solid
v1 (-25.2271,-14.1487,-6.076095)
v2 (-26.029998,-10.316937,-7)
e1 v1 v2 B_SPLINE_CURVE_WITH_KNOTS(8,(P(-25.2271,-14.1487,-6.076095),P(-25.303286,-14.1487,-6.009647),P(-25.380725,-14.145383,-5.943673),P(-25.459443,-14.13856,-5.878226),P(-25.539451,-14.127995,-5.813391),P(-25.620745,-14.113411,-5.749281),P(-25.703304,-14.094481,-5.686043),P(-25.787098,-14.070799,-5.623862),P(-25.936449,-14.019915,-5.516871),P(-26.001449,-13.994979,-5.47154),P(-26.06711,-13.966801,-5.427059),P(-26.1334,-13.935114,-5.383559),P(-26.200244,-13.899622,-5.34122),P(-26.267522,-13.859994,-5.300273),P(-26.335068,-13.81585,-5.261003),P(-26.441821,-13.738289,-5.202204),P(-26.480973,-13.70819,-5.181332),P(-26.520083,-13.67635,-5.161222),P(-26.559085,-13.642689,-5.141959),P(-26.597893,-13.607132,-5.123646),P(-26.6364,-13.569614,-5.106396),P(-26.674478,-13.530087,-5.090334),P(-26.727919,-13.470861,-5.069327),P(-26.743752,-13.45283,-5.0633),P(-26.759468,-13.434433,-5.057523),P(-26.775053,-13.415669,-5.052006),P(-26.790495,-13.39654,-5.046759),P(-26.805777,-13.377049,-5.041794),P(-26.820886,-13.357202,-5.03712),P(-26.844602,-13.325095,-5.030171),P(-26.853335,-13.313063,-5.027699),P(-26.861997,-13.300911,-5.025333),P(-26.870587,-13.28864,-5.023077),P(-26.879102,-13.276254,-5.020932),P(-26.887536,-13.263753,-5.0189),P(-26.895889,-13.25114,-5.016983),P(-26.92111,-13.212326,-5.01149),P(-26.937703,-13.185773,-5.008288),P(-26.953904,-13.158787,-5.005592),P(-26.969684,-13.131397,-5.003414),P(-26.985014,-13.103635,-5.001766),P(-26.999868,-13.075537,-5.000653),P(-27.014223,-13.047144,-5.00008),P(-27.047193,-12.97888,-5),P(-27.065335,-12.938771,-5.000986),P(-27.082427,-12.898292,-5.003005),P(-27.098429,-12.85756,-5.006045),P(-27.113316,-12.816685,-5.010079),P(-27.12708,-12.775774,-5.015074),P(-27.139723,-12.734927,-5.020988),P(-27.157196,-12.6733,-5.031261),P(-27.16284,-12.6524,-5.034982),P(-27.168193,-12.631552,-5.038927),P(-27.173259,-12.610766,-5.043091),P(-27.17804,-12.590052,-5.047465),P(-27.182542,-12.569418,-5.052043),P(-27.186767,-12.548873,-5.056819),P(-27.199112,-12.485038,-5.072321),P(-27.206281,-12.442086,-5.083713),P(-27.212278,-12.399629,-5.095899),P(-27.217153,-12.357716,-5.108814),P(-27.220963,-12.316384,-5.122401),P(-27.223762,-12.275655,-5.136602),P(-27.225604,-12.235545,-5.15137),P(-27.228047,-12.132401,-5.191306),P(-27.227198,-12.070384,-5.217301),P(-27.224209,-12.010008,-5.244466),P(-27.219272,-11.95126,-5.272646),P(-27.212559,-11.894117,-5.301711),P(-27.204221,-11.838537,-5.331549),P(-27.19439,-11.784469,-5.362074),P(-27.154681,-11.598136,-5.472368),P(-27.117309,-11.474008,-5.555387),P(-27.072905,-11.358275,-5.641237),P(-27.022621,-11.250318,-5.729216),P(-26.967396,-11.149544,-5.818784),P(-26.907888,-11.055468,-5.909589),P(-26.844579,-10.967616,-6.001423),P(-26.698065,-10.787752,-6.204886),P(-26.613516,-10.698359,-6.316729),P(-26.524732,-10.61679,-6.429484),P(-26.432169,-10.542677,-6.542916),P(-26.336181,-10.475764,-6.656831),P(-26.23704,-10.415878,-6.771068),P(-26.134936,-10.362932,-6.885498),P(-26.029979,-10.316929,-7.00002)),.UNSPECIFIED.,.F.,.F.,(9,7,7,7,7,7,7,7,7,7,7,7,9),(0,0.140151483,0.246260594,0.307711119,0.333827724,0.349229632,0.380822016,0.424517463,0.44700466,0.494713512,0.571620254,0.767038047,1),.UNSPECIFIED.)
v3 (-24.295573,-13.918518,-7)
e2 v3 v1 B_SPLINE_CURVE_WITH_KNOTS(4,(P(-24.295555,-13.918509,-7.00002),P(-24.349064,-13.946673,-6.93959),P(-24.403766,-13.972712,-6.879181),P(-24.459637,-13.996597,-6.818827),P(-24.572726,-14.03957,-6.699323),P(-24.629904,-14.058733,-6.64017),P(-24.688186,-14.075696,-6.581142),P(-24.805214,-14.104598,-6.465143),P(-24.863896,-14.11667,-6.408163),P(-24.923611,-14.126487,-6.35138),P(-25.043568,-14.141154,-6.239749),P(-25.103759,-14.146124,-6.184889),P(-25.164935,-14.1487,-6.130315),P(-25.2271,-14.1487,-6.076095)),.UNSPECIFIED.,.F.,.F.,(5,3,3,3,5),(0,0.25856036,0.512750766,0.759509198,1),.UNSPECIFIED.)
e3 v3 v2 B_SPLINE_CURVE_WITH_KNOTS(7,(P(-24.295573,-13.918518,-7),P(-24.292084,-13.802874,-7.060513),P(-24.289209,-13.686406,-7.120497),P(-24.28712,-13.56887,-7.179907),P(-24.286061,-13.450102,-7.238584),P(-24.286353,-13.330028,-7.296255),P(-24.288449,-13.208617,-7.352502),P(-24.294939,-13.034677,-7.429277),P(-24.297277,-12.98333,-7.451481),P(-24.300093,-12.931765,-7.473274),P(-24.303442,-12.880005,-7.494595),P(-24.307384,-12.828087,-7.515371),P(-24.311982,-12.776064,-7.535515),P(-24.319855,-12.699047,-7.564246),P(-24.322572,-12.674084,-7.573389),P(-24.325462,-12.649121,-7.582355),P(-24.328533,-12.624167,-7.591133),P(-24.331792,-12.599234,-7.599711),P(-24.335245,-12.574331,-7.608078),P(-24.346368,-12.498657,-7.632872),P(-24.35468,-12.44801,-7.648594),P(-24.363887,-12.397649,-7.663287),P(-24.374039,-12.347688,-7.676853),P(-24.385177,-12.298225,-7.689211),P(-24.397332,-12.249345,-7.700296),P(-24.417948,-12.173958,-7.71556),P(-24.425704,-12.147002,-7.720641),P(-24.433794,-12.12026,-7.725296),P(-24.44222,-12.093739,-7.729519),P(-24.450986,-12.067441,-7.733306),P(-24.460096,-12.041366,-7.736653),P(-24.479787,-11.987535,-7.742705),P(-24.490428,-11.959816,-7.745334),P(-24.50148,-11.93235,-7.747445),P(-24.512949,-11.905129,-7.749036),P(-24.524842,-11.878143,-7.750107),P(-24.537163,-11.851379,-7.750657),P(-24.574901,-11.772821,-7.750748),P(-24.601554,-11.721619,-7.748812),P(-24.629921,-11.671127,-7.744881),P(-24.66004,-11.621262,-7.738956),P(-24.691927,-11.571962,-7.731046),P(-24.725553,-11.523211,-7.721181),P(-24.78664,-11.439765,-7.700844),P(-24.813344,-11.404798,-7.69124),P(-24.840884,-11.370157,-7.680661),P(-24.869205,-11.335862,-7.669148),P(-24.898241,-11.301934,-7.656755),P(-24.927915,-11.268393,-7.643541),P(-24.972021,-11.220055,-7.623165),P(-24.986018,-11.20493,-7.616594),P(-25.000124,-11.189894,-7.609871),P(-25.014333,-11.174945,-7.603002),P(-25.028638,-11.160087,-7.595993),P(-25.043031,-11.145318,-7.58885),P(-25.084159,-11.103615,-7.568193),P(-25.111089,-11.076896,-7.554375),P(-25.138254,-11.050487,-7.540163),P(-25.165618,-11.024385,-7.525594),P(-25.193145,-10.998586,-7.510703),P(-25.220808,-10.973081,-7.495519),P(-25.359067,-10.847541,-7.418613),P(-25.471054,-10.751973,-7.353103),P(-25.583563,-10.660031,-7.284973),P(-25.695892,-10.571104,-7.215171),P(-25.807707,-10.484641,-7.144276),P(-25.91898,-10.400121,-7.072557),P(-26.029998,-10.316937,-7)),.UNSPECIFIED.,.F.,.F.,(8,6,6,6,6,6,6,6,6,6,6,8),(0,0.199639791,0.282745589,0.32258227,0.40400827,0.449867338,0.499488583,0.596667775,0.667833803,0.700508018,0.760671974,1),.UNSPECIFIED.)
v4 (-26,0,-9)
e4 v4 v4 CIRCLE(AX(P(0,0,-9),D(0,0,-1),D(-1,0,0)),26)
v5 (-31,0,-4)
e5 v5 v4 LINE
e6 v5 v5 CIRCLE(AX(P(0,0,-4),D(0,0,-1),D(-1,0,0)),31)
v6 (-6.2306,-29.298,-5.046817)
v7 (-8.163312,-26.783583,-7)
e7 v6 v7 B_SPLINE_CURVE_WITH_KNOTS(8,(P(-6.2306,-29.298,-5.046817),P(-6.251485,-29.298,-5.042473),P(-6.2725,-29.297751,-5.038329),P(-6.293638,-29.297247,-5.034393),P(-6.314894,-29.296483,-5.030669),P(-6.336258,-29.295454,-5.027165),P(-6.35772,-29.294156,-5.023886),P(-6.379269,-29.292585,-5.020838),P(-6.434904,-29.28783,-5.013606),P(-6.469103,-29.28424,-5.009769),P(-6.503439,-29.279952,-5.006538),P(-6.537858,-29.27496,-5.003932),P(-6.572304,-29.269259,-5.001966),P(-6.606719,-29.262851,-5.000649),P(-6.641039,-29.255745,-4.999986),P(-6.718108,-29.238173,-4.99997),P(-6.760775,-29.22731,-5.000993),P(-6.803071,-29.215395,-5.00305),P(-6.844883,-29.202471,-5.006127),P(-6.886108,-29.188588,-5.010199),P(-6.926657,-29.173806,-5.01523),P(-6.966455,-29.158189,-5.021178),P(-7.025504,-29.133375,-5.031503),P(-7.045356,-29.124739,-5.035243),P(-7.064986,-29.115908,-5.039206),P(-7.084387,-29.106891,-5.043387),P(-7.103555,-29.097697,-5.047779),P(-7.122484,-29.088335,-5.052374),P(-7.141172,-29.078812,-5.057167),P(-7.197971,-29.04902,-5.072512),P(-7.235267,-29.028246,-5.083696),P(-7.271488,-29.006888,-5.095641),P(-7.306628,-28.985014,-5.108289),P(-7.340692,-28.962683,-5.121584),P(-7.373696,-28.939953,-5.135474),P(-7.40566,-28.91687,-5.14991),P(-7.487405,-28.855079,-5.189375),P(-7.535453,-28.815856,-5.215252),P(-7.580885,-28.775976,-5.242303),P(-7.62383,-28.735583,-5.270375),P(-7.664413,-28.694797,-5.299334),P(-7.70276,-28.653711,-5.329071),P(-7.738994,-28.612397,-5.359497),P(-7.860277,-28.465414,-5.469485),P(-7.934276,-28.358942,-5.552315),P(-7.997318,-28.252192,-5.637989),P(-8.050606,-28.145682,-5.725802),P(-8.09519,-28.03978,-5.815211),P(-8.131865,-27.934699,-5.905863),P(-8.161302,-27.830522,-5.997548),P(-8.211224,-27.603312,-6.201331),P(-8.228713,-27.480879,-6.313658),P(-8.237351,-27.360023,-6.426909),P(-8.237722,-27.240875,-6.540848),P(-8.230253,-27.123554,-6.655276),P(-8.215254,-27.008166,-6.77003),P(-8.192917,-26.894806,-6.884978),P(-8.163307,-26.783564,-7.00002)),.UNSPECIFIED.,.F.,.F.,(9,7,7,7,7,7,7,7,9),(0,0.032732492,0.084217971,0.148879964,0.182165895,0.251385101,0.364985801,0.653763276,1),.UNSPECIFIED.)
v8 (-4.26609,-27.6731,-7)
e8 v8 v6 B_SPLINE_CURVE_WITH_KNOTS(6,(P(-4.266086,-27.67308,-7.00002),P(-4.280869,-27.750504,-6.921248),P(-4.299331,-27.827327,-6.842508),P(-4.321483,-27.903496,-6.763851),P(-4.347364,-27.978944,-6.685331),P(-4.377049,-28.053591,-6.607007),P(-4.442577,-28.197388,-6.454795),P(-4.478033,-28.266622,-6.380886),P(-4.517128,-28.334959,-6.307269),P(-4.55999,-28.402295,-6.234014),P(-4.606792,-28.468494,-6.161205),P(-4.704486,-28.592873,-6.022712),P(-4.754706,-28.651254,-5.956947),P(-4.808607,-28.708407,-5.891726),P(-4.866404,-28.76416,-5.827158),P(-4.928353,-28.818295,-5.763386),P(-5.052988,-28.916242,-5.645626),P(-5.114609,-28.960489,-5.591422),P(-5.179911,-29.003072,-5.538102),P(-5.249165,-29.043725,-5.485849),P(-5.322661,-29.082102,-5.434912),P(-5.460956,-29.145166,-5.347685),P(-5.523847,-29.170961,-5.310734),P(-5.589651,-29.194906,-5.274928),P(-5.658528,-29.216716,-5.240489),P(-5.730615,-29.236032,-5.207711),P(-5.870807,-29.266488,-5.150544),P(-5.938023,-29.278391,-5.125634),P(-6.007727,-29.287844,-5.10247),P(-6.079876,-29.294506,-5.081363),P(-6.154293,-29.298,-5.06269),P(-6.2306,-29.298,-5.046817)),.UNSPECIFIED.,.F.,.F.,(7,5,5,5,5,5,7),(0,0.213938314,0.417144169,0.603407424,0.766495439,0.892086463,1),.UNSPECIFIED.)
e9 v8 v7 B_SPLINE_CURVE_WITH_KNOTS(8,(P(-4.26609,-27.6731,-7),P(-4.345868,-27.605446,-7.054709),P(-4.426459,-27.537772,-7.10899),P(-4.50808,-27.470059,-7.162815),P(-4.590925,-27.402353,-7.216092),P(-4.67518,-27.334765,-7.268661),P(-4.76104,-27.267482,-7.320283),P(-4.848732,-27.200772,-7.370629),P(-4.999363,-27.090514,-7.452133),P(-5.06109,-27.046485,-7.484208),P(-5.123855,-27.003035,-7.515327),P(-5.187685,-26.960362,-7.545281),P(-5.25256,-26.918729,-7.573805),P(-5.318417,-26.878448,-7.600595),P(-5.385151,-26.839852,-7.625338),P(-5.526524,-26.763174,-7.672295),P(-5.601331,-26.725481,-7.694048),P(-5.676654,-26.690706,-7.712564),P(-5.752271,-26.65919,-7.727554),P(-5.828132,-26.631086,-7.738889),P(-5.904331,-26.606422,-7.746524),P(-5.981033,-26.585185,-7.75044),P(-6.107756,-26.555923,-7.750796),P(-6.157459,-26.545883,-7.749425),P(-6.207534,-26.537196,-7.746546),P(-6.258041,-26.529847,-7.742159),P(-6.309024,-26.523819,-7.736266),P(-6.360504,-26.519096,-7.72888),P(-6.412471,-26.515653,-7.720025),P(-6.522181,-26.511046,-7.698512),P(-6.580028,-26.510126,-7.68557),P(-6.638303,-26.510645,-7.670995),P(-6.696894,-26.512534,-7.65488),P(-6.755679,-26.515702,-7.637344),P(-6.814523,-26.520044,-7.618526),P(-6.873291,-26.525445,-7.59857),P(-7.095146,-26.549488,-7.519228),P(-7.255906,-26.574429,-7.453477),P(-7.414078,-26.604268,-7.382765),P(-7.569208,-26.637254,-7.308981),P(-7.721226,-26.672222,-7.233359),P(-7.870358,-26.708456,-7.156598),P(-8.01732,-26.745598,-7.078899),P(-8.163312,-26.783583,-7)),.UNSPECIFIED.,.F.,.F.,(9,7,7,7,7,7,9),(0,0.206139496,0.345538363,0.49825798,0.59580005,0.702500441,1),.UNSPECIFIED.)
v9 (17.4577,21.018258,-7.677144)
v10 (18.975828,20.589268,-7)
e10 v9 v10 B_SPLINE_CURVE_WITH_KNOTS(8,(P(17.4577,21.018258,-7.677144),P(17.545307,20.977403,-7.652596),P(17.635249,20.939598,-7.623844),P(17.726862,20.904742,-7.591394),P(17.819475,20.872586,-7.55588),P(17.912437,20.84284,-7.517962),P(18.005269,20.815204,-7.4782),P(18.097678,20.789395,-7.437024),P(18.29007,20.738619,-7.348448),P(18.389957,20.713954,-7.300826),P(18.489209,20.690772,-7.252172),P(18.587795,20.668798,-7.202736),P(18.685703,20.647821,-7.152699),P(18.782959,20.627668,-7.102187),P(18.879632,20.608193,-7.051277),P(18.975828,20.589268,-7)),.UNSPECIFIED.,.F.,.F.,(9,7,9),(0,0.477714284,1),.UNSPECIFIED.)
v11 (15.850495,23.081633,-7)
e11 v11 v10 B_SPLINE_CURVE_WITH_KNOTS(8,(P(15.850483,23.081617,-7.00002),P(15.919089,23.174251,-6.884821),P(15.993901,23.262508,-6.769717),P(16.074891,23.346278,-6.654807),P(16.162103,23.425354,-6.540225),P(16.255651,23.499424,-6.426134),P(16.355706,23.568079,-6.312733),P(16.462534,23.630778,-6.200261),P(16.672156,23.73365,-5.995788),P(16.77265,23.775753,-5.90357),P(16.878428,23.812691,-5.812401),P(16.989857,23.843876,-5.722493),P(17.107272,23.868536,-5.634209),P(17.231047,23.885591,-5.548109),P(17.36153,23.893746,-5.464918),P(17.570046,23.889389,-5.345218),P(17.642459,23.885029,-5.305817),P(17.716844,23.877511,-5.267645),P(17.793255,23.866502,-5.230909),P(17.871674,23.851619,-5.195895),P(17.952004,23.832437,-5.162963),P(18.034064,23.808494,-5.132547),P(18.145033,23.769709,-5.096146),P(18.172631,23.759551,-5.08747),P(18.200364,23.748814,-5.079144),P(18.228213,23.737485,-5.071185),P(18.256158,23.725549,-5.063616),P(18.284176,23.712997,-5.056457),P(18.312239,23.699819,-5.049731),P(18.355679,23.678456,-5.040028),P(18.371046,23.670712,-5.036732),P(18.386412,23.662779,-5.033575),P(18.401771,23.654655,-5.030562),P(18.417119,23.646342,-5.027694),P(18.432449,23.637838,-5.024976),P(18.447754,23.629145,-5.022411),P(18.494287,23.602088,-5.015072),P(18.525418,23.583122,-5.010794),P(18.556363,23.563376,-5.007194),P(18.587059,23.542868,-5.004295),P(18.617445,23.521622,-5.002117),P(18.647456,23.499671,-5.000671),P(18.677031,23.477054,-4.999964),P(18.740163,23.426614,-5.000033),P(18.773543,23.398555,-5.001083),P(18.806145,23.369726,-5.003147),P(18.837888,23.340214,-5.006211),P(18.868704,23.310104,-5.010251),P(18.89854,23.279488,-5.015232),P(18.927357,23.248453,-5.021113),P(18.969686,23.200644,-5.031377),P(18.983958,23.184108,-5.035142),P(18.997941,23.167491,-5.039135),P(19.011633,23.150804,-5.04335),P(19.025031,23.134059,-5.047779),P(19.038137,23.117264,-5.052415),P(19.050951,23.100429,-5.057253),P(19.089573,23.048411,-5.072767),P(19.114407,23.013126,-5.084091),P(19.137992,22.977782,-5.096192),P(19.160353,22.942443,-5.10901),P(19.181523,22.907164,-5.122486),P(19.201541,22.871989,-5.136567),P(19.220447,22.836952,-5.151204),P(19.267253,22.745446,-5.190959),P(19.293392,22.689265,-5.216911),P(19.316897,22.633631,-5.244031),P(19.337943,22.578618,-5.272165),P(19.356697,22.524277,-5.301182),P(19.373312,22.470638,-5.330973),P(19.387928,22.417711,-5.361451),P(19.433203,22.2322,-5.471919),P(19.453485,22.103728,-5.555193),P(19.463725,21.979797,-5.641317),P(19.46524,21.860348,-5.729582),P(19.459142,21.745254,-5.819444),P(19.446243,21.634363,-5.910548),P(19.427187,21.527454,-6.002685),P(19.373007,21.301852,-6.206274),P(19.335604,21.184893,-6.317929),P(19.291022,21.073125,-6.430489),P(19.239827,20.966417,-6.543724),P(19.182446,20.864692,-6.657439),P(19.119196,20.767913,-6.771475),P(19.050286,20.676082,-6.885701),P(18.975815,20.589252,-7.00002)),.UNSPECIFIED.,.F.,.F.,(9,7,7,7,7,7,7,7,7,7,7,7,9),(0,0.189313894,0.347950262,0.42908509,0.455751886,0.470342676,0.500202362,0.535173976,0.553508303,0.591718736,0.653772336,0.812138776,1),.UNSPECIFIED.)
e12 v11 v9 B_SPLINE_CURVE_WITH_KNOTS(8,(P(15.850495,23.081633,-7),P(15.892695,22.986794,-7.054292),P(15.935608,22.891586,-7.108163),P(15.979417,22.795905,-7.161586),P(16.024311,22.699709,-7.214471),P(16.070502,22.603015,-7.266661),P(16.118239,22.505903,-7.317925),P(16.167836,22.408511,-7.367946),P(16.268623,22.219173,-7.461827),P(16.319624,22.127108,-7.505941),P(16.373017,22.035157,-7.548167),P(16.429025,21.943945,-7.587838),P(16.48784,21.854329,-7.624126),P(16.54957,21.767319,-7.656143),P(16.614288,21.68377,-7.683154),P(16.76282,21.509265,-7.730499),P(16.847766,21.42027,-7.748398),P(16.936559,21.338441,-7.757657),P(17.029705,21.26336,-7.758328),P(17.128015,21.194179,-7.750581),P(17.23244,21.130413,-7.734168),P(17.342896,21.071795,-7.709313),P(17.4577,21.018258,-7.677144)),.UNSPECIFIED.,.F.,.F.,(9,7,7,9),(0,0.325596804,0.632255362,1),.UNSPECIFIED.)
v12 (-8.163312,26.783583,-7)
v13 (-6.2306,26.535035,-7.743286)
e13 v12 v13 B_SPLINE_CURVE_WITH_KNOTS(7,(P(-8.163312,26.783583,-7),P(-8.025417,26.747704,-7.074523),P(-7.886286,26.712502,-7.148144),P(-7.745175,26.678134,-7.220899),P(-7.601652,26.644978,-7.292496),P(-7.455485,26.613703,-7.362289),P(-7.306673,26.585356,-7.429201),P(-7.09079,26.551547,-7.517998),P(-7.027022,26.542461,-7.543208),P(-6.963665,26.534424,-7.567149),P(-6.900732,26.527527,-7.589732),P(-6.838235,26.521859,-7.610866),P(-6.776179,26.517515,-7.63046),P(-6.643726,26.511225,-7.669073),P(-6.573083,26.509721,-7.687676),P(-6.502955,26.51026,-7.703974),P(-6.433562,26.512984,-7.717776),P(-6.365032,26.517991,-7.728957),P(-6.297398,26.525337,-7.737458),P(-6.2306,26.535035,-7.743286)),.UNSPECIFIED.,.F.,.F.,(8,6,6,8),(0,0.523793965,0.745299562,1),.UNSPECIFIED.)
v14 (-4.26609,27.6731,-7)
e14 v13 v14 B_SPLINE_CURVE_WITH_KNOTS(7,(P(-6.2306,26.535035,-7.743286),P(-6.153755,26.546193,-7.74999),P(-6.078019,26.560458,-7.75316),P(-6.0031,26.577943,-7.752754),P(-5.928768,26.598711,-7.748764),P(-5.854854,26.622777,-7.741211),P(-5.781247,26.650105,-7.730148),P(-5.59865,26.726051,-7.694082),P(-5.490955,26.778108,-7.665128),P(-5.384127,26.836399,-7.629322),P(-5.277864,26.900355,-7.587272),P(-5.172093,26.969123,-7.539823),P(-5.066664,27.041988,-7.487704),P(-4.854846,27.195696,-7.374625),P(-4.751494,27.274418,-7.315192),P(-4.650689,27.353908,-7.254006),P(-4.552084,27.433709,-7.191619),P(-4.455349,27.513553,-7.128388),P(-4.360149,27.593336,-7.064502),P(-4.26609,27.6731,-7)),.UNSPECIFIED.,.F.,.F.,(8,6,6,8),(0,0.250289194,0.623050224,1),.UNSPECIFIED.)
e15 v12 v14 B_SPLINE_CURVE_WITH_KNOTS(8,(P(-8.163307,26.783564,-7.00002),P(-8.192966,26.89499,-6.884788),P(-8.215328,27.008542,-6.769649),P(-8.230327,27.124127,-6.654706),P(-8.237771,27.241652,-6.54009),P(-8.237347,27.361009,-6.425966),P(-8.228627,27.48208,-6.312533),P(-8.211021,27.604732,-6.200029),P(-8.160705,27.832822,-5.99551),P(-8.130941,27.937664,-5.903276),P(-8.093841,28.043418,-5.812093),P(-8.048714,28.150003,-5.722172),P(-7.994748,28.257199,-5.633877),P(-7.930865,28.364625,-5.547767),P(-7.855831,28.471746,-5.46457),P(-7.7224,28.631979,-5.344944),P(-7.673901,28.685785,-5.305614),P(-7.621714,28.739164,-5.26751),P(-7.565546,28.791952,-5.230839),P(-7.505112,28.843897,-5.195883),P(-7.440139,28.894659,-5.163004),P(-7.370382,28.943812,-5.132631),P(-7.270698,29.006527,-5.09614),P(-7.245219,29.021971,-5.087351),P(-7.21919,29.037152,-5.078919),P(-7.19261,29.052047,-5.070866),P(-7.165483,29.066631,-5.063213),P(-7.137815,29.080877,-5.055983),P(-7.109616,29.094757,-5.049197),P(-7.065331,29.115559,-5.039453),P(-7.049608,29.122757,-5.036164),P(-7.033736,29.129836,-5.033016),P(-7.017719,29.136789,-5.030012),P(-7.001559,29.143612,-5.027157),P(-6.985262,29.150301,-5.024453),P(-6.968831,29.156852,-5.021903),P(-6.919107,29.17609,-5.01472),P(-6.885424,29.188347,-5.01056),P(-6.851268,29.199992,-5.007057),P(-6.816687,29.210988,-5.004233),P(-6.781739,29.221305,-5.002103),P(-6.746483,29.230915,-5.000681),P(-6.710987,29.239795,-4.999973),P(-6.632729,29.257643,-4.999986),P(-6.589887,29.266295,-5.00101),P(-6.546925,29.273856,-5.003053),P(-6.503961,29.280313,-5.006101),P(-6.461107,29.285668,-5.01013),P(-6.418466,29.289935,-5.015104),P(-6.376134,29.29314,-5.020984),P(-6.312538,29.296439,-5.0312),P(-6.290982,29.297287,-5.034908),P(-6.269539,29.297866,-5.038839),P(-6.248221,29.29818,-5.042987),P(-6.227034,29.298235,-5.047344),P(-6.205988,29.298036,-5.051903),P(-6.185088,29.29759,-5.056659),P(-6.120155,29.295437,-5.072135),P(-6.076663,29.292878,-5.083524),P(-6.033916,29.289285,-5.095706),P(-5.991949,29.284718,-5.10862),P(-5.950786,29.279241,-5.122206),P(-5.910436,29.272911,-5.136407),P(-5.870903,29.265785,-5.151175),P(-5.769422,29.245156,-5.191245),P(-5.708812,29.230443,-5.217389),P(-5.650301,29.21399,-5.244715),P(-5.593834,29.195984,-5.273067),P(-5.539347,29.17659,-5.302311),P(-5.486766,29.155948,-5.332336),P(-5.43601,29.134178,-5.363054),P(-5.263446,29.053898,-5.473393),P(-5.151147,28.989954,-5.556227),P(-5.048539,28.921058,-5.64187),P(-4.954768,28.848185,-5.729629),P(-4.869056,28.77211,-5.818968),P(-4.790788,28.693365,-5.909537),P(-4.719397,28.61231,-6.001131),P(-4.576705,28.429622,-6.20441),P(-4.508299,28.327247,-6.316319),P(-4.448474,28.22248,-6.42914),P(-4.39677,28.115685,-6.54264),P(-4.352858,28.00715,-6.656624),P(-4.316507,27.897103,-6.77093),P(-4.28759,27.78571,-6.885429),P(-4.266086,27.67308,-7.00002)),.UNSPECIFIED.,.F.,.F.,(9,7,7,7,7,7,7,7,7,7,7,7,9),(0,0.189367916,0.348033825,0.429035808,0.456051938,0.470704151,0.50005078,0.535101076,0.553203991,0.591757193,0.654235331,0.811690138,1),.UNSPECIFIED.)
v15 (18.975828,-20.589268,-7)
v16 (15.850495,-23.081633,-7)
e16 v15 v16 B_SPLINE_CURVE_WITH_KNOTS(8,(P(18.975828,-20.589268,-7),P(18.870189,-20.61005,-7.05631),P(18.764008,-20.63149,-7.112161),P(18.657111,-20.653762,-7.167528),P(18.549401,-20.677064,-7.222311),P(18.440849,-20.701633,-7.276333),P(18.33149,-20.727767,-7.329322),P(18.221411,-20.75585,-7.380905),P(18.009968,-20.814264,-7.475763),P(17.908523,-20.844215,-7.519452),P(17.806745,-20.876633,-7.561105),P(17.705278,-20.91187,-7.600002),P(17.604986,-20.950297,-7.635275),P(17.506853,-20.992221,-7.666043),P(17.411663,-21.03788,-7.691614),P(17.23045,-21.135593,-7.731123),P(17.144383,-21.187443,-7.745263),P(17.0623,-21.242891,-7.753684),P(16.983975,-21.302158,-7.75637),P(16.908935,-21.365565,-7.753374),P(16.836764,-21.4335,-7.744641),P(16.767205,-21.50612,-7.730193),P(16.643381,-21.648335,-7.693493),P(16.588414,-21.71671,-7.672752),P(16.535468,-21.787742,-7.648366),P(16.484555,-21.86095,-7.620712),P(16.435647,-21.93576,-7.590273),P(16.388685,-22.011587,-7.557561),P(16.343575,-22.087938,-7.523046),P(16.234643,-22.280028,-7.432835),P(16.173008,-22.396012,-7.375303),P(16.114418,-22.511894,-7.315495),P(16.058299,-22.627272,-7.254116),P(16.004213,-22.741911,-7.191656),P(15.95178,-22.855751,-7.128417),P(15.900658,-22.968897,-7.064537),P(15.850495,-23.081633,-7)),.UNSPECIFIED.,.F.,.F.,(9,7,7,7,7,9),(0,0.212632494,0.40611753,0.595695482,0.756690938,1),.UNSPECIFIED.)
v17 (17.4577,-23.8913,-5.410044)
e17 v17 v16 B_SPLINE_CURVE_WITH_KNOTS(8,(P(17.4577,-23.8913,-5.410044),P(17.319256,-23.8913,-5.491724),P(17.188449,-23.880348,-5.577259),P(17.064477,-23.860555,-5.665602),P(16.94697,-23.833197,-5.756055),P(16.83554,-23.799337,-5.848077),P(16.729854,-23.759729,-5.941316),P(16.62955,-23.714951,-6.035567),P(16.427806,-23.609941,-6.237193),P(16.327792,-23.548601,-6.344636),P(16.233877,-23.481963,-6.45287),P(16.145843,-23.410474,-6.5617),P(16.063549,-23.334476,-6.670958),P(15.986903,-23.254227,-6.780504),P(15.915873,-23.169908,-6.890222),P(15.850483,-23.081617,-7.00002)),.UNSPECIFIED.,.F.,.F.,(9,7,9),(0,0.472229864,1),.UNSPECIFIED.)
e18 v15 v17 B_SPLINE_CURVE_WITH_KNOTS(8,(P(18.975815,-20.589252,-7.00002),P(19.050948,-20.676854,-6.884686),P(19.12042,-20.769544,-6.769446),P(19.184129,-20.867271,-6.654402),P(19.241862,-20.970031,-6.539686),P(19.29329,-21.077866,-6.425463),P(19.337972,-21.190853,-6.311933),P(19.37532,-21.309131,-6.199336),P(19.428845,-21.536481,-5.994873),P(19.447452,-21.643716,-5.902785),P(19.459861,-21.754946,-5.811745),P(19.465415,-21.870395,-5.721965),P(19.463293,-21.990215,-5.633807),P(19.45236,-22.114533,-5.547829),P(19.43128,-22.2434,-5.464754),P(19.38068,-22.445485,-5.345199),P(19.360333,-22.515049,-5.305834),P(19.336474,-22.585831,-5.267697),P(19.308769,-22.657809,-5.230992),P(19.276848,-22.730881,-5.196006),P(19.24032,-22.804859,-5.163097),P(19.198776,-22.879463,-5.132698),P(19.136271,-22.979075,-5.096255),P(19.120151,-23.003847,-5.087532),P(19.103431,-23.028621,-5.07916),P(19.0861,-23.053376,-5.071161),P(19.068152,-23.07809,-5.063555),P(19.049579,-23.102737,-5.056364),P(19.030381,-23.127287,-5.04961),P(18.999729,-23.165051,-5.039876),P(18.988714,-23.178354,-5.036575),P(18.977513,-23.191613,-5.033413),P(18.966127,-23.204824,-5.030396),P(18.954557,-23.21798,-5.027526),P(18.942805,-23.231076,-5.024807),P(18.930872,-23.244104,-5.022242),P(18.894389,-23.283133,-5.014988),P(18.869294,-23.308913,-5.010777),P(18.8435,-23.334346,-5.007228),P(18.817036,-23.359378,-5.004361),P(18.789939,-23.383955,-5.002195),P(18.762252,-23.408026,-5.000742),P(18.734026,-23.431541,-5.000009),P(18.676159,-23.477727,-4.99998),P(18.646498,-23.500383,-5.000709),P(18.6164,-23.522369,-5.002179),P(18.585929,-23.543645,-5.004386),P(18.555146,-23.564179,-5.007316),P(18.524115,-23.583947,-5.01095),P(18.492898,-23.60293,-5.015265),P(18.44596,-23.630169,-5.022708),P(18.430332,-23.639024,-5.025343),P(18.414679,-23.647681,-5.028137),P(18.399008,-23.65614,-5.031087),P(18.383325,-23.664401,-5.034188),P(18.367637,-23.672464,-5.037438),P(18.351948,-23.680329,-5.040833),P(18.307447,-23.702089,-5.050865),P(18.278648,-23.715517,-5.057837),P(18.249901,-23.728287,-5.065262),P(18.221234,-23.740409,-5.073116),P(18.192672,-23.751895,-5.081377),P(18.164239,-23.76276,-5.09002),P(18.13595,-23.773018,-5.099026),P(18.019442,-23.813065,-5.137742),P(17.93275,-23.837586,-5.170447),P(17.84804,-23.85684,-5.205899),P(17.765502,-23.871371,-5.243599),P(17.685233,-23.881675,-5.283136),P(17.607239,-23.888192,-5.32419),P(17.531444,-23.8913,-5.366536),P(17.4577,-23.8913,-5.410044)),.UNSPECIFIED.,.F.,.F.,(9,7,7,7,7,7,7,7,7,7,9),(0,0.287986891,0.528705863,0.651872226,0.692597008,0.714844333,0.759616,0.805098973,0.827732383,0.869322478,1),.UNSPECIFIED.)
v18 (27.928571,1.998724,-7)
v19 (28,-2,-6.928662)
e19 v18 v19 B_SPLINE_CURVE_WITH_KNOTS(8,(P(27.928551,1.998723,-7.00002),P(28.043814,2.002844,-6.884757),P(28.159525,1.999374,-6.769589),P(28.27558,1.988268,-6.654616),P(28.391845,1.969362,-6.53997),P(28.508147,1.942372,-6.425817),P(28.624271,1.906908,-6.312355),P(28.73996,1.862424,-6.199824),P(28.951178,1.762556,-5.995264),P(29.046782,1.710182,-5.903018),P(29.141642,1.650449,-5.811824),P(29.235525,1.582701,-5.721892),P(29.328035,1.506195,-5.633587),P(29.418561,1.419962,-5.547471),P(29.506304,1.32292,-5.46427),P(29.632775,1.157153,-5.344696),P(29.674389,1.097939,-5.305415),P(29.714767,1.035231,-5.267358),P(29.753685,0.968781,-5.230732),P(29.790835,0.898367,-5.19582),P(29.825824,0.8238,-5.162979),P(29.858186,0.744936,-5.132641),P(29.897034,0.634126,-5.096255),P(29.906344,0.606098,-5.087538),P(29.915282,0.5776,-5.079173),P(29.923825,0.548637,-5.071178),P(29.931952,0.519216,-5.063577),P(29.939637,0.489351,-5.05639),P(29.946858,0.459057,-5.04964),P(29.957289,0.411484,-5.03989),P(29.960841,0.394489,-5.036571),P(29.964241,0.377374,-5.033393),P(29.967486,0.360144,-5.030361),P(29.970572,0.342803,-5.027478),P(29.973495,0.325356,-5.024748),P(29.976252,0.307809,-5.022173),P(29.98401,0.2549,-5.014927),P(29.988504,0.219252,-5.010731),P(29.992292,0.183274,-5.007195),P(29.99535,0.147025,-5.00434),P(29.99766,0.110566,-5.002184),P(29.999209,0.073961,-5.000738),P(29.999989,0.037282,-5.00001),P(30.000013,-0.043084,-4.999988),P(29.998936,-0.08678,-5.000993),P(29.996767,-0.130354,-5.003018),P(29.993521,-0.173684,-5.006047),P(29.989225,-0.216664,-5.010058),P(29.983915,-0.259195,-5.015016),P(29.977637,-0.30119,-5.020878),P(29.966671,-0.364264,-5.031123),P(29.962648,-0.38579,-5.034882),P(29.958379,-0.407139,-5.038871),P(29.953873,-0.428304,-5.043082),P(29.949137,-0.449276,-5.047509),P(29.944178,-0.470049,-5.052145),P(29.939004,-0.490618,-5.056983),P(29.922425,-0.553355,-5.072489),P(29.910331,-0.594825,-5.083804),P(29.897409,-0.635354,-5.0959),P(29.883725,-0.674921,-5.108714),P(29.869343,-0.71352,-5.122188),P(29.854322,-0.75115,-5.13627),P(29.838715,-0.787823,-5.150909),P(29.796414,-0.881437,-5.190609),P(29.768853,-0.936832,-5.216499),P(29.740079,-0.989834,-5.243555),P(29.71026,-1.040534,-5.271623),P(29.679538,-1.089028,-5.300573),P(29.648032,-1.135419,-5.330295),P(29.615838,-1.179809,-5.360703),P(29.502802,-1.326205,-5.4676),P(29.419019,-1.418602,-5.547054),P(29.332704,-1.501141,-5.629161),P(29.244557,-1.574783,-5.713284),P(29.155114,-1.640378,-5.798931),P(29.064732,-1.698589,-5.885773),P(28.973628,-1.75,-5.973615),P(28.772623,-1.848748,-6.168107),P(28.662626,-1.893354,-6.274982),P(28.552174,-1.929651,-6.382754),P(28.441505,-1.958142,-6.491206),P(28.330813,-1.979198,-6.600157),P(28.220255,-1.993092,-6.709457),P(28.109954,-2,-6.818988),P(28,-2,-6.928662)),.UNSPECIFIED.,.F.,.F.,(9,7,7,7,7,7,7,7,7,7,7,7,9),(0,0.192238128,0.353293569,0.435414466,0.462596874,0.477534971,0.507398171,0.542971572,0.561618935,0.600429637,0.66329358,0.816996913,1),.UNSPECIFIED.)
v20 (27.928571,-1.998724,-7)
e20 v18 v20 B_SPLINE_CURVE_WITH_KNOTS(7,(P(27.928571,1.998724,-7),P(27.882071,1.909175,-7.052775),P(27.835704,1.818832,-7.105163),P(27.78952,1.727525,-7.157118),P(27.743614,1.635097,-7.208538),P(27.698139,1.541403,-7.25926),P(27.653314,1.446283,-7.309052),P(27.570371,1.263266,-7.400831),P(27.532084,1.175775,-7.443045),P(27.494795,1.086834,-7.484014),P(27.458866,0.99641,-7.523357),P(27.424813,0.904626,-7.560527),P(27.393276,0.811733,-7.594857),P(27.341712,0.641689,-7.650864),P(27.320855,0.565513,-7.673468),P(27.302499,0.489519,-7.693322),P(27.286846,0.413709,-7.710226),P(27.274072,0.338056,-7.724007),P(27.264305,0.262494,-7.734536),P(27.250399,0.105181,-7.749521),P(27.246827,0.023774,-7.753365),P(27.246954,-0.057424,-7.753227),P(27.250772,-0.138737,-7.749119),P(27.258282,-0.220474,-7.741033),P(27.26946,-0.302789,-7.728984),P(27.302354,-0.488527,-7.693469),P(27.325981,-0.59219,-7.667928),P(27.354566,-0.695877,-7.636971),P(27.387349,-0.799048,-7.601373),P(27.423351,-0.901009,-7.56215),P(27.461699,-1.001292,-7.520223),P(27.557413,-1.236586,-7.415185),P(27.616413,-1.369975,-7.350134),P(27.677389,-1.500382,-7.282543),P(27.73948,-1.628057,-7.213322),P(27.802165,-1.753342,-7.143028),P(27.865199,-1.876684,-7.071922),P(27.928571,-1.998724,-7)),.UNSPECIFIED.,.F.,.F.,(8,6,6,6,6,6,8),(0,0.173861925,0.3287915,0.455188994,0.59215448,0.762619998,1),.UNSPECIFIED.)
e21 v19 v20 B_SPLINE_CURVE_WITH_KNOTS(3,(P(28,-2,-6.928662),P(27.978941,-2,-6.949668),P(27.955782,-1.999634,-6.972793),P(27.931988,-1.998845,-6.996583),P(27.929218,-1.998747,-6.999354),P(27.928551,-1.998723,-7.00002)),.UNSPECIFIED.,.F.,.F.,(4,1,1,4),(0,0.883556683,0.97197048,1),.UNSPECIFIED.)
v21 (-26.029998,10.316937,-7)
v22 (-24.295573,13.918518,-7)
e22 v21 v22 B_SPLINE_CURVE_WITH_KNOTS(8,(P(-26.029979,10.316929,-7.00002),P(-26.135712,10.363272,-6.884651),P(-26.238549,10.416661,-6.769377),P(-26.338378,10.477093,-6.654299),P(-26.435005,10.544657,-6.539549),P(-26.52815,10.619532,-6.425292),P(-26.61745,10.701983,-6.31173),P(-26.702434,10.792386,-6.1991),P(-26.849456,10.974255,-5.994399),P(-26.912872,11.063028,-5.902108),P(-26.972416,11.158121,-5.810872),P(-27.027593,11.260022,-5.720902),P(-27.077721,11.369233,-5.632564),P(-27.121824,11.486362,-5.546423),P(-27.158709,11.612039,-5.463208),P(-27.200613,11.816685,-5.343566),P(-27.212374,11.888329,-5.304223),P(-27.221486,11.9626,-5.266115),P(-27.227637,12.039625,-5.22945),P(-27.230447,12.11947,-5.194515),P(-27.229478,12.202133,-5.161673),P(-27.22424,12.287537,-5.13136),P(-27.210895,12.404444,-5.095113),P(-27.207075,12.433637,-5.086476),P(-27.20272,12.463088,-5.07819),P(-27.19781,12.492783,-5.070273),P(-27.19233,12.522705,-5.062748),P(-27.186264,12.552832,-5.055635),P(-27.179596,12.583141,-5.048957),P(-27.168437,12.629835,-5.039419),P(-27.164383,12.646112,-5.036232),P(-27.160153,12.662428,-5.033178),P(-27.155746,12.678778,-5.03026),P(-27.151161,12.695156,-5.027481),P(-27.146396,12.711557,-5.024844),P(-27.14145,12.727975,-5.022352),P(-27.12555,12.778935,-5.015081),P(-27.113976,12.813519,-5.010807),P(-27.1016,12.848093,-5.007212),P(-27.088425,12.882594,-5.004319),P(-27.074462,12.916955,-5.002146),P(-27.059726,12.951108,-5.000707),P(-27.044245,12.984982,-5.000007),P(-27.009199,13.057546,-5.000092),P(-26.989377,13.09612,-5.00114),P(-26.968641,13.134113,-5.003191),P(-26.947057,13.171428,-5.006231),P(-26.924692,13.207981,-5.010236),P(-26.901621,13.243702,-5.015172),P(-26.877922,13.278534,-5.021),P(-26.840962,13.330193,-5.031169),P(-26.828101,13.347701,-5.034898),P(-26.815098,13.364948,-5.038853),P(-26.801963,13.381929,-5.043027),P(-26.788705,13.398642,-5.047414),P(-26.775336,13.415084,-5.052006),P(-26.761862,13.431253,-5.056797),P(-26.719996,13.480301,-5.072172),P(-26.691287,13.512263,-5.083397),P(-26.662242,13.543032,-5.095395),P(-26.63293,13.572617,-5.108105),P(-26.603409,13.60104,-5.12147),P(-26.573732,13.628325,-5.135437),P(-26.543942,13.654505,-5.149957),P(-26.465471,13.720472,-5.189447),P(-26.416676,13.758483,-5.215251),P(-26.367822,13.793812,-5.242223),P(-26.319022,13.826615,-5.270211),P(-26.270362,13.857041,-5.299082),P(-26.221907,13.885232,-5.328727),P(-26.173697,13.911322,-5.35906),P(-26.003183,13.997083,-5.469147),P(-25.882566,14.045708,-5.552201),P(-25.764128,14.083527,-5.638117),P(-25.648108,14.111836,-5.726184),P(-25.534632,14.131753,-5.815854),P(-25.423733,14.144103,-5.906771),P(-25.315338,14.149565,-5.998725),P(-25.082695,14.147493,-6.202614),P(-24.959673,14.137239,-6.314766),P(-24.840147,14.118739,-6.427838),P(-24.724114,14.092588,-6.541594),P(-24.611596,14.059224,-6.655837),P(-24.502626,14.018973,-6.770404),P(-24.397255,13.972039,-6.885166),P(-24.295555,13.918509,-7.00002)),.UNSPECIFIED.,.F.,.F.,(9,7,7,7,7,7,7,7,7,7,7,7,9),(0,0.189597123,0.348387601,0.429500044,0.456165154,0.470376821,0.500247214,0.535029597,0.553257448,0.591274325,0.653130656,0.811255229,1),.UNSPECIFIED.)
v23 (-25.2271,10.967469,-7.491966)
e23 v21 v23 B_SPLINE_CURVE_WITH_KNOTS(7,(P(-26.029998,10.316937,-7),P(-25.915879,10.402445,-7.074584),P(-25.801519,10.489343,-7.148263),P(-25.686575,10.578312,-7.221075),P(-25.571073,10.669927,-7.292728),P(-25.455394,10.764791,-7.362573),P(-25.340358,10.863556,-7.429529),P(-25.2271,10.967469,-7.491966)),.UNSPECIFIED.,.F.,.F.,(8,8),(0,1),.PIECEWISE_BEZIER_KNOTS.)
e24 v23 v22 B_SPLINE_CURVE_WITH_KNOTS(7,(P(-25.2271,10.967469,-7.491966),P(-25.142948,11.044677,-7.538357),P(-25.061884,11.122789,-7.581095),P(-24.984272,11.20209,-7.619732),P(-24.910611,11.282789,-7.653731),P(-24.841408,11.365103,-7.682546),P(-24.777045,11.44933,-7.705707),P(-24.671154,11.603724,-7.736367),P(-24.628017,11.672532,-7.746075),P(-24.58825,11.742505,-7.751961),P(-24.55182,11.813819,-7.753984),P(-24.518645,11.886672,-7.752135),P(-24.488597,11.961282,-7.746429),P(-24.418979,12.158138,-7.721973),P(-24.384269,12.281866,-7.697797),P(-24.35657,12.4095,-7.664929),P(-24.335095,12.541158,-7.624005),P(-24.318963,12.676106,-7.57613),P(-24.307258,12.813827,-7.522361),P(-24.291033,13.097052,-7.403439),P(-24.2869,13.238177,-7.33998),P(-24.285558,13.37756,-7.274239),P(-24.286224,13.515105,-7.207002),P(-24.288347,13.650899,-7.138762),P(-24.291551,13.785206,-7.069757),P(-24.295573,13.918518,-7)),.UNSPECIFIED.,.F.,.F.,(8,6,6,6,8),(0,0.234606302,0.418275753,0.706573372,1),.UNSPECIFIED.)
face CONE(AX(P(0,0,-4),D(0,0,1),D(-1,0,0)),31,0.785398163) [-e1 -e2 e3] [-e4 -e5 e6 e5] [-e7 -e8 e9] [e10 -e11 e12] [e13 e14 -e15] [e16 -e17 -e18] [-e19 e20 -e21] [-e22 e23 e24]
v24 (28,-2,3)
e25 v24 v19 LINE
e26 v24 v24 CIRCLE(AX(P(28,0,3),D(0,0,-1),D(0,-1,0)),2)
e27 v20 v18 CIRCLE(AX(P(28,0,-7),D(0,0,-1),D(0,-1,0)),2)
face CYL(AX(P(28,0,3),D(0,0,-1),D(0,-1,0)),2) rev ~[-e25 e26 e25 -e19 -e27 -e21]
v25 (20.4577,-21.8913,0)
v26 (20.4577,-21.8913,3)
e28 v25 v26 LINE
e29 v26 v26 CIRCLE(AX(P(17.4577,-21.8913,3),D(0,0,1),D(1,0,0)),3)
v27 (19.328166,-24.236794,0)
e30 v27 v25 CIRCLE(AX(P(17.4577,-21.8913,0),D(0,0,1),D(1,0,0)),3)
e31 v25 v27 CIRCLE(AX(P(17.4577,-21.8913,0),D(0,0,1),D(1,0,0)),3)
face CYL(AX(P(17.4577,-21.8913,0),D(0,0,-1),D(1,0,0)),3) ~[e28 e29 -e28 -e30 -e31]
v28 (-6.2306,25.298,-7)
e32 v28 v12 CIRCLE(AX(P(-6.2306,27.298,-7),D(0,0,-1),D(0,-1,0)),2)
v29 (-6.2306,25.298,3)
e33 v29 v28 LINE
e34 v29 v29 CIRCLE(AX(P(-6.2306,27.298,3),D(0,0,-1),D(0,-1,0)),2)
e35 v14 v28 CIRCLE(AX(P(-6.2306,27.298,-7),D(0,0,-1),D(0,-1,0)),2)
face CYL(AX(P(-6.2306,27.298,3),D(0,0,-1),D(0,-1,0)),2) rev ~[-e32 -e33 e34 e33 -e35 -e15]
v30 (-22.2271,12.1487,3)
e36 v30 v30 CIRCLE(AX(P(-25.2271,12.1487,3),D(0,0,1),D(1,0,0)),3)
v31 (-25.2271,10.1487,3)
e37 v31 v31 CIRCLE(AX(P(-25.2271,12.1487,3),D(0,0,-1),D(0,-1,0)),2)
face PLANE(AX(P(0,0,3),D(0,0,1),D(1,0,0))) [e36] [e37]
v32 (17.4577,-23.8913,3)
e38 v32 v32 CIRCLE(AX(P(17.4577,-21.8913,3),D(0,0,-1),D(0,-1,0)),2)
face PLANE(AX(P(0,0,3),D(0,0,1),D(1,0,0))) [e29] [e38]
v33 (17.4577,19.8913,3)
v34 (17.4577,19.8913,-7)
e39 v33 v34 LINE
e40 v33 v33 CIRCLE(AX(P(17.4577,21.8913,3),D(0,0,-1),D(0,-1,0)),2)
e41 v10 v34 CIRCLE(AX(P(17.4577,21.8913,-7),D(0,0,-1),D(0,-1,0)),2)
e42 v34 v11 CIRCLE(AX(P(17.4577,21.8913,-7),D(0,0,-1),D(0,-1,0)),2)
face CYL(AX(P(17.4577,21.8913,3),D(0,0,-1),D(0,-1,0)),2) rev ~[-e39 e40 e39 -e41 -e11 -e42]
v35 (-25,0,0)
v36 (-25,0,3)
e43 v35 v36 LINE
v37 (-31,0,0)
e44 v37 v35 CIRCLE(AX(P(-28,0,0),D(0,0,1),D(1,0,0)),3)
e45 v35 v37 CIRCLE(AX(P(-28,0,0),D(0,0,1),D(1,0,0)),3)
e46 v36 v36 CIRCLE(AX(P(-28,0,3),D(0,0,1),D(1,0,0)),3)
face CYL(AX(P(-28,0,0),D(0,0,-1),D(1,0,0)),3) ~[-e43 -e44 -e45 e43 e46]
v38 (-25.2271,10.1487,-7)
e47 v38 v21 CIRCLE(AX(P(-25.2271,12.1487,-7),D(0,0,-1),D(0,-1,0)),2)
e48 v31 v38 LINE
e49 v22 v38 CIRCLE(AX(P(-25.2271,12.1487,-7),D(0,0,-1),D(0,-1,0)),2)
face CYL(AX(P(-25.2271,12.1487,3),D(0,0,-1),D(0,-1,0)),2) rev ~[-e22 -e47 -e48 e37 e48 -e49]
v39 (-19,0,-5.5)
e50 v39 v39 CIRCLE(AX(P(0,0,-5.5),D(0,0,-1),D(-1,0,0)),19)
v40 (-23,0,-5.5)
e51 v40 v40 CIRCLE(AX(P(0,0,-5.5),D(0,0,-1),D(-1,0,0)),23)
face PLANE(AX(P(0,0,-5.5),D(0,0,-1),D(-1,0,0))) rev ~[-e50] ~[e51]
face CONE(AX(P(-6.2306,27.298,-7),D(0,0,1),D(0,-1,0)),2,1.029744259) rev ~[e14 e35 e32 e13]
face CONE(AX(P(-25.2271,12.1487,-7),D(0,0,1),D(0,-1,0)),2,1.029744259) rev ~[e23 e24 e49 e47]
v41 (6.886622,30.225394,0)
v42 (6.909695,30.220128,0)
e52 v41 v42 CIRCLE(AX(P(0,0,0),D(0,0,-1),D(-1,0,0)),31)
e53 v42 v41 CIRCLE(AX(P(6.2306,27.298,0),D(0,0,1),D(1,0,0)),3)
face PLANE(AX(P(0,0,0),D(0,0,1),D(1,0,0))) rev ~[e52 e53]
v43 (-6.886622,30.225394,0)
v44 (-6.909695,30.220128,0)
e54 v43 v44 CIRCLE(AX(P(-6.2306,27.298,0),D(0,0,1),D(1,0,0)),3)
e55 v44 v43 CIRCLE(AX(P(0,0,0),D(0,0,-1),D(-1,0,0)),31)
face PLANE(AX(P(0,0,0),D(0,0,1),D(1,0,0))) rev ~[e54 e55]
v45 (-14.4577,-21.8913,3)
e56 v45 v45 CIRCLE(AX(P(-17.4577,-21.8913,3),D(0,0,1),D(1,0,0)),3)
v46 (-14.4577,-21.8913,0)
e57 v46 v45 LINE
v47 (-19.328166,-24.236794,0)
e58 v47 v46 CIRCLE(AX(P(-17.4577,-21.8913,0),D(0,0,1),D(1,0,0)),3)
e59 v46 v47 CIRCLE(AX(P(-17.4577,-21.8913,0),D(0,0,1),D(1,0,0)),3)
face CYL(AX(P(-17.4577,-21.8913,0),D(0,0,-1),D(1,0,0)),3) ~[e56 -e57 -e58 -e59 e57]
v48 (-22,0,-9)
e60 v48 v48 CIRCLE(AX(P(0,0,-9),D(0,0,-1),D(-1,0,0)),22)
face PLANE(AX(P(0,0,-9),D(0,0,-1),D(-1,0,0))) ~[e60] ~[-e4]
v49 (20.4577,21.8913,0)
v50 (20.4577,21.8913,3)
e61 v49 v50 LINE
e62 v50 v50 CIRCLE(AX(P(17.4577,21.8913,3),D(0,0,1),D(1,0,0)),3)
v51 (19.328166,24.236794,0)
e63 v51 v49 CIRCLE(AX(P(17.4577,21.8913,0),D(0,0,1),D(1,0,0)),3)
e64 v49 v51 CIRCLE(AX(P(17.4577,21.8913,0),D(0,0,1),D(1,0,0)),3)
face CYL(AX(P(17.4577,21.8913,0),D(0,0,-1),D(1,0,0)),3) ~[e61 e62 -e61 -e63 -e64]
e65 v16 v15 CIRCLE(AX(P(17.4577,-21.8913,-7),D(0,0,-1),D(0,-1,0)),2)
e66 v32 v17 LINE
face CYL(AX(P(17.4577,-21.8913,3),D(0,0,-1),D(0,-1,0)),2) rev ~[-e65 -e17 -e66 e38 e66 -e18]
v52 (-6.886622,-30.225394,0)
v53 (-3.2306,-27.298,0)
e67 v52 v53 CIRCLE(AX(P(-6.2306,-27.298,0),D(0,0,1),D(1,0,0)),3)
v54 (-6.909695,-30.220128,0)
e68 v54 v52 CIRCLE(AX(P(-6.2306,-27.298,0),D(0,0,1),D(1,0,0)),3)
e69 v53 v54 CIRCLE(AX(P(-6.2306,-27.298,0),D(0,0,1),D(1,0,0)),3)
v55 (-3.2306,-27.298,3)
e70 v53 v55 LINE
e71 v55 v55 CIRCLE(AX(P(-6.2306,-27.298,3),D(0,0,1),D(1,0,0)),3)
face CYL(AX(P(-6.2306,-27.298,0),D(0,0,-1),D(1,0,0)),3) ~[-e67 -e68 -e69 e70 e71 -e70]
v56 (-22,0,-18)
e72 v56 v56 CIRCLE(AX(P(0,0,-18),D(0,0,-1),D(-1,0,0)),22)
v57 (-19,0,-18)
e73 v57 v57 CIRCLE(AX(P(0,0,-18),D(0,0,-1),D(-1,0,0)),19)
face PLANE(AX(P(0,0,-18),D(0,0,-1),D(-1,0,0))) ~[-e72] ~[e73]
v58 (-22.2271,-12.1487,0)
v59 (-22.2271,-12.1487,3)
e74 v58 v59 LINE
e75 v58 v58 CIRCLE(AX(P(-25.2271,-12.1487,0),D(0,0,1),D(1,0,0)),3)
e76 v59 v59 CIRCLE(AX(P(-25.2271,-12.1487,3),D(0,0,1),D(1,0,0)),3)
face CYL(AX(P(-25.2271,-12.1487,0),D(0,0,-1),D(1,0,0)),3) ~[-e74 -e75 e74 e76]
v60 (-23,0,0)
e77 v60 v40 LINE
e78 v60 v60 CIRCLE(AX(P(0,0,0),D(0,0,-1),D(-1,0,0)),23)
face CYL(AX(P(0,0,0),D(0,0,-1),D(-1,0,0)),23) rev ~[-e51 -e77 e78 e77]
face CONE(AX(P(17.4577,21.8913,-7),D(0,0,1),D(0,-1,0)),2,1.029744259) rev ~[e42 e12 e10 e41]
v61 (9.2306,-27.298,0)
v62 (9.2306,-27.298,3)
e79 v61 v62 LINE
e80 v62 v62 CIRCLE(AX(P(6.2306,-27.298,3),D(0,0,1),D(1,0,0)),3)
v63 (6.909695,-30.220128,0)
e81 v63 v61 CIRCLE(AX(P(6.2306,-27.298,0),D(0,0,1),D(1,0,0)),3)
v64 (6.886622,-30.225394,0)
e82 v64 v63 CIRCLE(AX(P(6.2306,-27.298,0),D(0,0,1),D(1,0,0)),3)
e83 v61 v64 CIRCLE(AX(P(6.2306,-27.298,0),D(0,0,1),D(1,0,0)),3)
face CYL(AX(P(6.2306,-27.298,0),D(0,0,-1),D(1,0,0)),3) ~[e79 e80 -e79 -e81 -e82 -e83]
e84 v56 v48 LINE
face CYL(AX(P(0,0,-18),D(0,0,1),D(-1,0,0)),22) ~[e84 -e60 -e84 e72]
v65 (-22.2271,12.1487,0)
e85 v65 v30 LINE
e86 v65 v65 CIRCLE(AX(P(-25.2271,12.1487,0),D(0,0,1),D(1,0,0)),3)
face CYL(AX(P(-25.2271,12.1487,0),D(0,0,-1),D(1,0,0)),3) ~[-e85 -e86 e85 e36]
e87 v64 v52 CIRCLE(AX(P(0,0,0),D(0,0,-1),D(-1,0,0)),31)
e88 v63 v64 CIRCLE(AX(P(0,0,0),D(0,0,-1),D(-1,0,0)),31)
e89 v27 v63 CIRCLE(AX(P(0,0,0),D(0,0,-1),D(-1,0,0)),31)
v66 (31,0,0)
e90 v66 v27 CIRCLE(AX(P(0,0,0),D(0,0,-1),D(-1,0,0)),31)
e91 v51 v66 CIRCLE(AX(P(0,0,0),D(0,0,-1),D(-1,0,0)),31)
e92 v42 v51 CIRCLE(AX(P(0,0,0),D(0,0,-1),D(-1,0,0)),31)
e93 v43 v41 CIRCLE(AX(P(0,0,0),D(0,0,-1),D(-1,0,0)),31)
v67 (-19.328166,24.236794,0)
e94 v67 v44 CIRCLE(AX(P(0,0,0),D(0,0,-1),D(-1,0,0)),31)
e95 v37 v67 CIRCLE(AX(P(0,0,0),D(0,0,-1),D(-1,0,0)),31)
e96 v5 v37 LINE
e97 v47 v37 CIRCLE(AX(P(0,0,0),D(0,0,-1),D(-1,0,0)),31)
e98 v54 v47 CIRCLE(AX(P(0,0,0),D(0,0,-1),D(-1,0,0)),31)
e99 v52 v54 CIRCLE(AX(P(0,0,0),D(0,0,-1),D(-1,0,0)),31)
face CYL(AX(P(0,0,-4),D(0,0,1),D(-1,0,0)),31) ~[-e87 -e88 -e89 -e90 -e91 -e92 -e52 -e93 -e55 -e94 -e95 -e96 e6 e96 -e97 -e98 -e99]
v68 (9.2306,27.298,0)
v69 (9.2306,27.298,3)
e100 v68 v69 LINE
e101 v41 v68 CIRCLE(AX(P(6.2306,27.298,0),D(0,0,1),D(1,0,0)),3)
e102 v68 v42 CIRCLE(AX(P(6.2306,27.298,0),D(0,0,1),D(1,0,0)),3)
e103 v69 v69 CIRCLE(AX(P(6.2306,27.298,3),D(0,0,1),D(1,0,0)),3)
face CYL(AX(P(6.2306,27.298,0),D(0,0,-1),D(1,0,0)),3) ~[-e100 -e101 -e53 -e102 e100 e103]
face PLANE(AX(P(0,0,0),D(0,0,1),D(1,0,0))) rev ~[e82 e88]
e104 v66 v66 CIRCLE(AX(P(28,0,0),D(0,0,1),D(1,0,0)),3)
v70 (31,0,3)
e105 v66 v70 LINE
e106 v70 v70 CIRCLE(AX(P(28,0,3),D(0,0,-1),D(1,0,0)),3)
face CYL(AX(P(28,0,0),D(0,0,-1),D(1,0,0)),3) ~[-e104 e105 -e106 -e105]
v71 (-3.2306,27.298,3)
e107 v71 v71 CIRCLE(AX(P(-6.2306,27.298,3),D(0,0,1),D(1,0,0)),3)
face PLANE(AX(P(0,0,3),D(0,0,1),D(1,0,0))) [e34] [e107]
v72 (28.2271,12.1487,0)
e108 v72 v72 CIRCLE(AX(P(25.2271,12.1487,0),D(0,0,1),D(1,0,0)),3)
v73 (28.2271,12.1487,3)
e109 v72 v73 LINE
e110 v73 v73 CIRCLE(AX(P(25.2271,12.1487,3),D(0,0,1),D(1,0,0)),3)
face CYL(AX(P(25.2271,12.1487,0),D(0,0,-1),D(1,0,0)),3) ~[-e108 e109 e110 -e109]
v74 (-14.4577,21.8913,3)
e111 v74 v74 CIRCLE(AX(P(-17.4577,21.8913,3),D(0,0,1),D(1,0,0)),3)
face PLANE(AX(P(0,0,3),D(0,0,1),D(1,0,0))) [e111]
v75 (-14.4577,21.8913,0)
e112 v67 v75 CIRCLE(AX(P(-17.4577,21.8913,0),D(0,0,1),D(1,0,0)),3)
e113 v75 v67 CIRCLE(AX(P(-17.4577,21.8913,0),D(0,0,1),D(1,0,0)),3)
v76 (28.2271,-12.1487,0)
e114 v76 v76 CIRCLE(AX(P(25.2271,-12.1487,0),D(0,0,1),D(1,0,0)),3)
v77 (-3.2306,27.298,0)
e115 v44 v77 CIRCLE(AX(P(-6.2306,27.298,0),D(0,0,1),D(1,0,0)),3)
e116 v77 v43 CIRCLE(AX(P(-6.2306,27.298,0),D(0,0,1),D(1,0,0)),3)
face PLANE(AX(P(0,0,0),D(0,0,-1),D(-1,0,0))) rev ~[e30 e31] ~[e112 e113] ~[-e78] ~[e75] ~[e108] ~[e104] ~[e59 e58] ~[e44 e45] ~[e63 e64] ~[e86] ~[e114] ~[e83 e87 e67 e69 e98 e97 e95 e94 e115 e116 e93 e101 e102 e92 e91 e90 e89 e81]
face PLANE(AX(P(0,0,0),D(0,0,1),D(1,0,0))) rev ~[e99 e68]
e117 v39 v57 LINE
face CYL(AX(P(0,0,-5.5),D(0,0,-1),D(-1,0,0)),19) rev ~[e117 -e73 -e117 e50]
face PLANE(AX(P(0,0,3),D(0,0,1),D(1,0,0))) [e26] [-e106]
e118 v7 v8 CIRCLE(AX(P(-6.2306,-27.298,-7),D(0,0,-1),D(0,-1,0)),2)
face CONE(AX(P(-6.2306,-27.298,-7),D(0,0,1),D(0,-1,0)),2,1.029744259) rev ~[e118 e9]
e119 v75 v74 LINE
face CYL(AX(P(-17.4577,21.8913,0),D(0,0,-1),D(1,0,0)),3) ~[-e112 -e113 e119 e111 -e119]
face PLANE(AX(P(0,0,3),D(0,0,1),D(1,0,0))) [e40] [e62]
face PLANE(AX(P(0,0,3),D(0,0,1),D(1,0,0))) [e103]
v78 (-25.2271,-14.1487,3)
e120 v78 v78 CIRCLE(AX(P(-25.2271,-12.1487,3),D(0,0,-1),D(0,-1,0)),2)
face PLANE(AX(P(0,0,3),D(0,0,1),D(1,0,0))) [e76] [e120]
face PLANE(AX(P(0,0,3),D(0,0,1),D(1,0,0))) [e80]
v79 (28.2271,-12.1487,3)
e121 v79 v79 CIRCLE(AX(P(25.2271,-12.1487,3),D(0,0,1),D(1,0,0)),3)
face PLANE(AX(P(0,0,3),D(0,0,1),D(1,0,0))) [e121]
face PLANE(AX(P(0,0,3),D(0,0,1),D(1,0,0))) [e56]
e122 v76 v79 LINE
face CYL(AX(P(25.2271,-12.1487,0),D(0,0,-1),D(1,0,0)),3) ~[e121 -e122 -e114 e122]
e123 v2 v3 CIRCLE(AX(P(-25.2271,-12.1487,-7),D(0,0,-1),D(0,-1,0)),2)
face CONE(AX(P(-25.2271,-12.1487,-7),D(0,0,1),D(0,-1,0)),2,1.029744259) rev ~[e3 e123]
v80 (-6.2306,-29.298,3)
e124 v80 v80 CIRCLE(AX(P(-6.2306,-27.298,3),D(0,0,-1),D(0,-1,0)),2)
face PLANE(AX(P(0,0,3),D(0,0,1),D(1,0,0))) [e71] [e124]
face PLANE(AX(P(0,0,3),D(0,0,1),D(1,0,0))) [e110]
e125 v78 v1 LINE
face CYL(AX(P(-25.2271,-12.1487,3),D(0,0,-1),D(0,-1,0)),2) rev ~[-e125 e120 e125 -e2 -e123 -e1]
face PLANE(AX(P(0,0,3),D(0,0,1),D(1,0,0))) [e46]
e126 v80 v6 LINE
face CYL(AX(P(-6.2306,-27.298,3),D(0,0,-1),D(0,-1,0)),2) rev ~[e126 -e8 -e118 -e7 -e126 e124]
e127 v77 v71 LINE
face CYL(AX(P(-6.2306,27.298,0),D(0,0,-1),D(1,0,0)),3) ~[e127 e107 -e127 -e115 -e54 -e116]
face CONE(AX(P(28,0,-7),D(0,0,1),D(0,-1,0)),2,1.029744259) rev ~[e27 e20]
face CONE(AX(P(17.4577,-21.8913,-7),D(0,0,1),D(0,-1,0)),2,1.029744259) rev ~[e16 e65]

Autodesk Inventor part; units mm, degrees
ref_plane "YZ Plane" through (0, 0, 0) normal (1, 0, 0) x (0, 1, 0)
ref_plane "XZ Plane" through (0, 0, 0) normal (0, 1, 0) x (-1, 0, 0)
ref_plane "XY Plane" through (0, 0, 0) normal (0, 0, 1) x (1, 0, 0)
sketch "Sketch1" plane through (0, 0, 0) normal (0, 1, 0) x (-1, 0, 0)
  line L0 (0, 0) -> (0, -23.6629)
  line L1 (0, 0) -> (19, 0)
  line L2 (19, -5.5) -> (19, -18)
  line L3 (19, -18) -> (22, -18)
  line L4 (22, -18) -> (22, -9)
  line L5 (22, -9) -> (26, -9)
  line L6 (31, -4) -> (31, 0)
  line L7 (31, 0) -> (23, 0)
  line L8 (23, 0) -> (23, -5.5)
  line L9 (23, -5.5) -> (19, -5.5)
  line L10 (26, -9) -> (26, -9)
  line L11 (26, -9) -> (31, -9)
  line L12 (31, 0) -> (31, -4)
  line L13 (31, -4) -> (26, -9)
  dimension "d0" = 19
  dimension "d1" = 18
  dimension "d2" = 3
  dimension "d5" = 8
  dimension "d13" = 5.5
  dimension "d15" = 9
  dimension "d24" = 12.5
  dimension "d92" = 0
  dimension "d93" = 4
  dimension "d95" = 135
revolve "Revolution1" add sketch "Sketch1" angle 360 about axis through (0, 0, 0) along (0, 0, -1)
thread "Thread1" size "M38x1.5" class "6H" standard "ANSI Metric M Profile" full length
sketch "Sketch2" plane through (0, 0, 0) normal (0, 0, 1) x (1, 0, 0)
  line L0 (0, 0) -> (28, 0)
  circle A0 centre (28, 0) radius 3
  circle A1 centre (25.2271, -12.1487) radius 3
  circle A2 centre (17.4577, -21.8913) radius 3
  circle A3 centre (6.2306, -27.298) radius 3
  circle A4 centre (-6.2306, -27.298) radius 3
  circle A5 centre (-17.4577, -21.8913) radius 3
  circle A6 centre (-25.2271, -12.1487) radius 3
  circle A7 centre (-28, 0) radius 3
  circle A8 centre (-25.2271, 12.1487) radius 3
  circle A9 centre (-17.4577, 21.8913) radius 3
  circle A10 centre (-6.2306, 27.298) radius 3
  circle A11 centre (6.2306, 27.298) radius 3
  circle A12 centre (17.4577, 21.8913) radius 3
  circle A13 centre (25.2271, 12.1487) radius 3
  dimension "d16" = 28
  dimension "d17" = 6
  dimension "d20" = 360
extrude "Extrusion2" add sketch "Sketch2" along normal blind 3
hole "Hole1" at (-25.2271, 12.1487, 3) direction (0, 0, -1) diameter 4 depth 10 tip angle 118
hole "Hole2" at (-6.2306, 27.298, 3) direction (0, 0, -1) diameter 4 depth 10 tip angle 118
hole "Hole3" at (-25.2271, -12.1487, 3) direction (0, 0, -1) diameter 4 depth 10 tip angle 118
hole "Hole4" at (-6.2306, -27.298, 3) direction (0, 0, -1) diameter 4 depth 10 tip angle 118
hole "Hole5" at (17.4577, -21.8913, 3) direction (0, 0, -1) diameter 4 depth 10 tip angle 118
hole "Hole6" at (28, 0, 3) direction (0, 0, -1) diameter 4 depth 10 tip angle 118
hole "Hole7" at (17.4577, 21.8913, 3) direction (0, 0, -1) diameter 4 depth 10 tip angle 118
properties part number "entraineur sur roue libre"
